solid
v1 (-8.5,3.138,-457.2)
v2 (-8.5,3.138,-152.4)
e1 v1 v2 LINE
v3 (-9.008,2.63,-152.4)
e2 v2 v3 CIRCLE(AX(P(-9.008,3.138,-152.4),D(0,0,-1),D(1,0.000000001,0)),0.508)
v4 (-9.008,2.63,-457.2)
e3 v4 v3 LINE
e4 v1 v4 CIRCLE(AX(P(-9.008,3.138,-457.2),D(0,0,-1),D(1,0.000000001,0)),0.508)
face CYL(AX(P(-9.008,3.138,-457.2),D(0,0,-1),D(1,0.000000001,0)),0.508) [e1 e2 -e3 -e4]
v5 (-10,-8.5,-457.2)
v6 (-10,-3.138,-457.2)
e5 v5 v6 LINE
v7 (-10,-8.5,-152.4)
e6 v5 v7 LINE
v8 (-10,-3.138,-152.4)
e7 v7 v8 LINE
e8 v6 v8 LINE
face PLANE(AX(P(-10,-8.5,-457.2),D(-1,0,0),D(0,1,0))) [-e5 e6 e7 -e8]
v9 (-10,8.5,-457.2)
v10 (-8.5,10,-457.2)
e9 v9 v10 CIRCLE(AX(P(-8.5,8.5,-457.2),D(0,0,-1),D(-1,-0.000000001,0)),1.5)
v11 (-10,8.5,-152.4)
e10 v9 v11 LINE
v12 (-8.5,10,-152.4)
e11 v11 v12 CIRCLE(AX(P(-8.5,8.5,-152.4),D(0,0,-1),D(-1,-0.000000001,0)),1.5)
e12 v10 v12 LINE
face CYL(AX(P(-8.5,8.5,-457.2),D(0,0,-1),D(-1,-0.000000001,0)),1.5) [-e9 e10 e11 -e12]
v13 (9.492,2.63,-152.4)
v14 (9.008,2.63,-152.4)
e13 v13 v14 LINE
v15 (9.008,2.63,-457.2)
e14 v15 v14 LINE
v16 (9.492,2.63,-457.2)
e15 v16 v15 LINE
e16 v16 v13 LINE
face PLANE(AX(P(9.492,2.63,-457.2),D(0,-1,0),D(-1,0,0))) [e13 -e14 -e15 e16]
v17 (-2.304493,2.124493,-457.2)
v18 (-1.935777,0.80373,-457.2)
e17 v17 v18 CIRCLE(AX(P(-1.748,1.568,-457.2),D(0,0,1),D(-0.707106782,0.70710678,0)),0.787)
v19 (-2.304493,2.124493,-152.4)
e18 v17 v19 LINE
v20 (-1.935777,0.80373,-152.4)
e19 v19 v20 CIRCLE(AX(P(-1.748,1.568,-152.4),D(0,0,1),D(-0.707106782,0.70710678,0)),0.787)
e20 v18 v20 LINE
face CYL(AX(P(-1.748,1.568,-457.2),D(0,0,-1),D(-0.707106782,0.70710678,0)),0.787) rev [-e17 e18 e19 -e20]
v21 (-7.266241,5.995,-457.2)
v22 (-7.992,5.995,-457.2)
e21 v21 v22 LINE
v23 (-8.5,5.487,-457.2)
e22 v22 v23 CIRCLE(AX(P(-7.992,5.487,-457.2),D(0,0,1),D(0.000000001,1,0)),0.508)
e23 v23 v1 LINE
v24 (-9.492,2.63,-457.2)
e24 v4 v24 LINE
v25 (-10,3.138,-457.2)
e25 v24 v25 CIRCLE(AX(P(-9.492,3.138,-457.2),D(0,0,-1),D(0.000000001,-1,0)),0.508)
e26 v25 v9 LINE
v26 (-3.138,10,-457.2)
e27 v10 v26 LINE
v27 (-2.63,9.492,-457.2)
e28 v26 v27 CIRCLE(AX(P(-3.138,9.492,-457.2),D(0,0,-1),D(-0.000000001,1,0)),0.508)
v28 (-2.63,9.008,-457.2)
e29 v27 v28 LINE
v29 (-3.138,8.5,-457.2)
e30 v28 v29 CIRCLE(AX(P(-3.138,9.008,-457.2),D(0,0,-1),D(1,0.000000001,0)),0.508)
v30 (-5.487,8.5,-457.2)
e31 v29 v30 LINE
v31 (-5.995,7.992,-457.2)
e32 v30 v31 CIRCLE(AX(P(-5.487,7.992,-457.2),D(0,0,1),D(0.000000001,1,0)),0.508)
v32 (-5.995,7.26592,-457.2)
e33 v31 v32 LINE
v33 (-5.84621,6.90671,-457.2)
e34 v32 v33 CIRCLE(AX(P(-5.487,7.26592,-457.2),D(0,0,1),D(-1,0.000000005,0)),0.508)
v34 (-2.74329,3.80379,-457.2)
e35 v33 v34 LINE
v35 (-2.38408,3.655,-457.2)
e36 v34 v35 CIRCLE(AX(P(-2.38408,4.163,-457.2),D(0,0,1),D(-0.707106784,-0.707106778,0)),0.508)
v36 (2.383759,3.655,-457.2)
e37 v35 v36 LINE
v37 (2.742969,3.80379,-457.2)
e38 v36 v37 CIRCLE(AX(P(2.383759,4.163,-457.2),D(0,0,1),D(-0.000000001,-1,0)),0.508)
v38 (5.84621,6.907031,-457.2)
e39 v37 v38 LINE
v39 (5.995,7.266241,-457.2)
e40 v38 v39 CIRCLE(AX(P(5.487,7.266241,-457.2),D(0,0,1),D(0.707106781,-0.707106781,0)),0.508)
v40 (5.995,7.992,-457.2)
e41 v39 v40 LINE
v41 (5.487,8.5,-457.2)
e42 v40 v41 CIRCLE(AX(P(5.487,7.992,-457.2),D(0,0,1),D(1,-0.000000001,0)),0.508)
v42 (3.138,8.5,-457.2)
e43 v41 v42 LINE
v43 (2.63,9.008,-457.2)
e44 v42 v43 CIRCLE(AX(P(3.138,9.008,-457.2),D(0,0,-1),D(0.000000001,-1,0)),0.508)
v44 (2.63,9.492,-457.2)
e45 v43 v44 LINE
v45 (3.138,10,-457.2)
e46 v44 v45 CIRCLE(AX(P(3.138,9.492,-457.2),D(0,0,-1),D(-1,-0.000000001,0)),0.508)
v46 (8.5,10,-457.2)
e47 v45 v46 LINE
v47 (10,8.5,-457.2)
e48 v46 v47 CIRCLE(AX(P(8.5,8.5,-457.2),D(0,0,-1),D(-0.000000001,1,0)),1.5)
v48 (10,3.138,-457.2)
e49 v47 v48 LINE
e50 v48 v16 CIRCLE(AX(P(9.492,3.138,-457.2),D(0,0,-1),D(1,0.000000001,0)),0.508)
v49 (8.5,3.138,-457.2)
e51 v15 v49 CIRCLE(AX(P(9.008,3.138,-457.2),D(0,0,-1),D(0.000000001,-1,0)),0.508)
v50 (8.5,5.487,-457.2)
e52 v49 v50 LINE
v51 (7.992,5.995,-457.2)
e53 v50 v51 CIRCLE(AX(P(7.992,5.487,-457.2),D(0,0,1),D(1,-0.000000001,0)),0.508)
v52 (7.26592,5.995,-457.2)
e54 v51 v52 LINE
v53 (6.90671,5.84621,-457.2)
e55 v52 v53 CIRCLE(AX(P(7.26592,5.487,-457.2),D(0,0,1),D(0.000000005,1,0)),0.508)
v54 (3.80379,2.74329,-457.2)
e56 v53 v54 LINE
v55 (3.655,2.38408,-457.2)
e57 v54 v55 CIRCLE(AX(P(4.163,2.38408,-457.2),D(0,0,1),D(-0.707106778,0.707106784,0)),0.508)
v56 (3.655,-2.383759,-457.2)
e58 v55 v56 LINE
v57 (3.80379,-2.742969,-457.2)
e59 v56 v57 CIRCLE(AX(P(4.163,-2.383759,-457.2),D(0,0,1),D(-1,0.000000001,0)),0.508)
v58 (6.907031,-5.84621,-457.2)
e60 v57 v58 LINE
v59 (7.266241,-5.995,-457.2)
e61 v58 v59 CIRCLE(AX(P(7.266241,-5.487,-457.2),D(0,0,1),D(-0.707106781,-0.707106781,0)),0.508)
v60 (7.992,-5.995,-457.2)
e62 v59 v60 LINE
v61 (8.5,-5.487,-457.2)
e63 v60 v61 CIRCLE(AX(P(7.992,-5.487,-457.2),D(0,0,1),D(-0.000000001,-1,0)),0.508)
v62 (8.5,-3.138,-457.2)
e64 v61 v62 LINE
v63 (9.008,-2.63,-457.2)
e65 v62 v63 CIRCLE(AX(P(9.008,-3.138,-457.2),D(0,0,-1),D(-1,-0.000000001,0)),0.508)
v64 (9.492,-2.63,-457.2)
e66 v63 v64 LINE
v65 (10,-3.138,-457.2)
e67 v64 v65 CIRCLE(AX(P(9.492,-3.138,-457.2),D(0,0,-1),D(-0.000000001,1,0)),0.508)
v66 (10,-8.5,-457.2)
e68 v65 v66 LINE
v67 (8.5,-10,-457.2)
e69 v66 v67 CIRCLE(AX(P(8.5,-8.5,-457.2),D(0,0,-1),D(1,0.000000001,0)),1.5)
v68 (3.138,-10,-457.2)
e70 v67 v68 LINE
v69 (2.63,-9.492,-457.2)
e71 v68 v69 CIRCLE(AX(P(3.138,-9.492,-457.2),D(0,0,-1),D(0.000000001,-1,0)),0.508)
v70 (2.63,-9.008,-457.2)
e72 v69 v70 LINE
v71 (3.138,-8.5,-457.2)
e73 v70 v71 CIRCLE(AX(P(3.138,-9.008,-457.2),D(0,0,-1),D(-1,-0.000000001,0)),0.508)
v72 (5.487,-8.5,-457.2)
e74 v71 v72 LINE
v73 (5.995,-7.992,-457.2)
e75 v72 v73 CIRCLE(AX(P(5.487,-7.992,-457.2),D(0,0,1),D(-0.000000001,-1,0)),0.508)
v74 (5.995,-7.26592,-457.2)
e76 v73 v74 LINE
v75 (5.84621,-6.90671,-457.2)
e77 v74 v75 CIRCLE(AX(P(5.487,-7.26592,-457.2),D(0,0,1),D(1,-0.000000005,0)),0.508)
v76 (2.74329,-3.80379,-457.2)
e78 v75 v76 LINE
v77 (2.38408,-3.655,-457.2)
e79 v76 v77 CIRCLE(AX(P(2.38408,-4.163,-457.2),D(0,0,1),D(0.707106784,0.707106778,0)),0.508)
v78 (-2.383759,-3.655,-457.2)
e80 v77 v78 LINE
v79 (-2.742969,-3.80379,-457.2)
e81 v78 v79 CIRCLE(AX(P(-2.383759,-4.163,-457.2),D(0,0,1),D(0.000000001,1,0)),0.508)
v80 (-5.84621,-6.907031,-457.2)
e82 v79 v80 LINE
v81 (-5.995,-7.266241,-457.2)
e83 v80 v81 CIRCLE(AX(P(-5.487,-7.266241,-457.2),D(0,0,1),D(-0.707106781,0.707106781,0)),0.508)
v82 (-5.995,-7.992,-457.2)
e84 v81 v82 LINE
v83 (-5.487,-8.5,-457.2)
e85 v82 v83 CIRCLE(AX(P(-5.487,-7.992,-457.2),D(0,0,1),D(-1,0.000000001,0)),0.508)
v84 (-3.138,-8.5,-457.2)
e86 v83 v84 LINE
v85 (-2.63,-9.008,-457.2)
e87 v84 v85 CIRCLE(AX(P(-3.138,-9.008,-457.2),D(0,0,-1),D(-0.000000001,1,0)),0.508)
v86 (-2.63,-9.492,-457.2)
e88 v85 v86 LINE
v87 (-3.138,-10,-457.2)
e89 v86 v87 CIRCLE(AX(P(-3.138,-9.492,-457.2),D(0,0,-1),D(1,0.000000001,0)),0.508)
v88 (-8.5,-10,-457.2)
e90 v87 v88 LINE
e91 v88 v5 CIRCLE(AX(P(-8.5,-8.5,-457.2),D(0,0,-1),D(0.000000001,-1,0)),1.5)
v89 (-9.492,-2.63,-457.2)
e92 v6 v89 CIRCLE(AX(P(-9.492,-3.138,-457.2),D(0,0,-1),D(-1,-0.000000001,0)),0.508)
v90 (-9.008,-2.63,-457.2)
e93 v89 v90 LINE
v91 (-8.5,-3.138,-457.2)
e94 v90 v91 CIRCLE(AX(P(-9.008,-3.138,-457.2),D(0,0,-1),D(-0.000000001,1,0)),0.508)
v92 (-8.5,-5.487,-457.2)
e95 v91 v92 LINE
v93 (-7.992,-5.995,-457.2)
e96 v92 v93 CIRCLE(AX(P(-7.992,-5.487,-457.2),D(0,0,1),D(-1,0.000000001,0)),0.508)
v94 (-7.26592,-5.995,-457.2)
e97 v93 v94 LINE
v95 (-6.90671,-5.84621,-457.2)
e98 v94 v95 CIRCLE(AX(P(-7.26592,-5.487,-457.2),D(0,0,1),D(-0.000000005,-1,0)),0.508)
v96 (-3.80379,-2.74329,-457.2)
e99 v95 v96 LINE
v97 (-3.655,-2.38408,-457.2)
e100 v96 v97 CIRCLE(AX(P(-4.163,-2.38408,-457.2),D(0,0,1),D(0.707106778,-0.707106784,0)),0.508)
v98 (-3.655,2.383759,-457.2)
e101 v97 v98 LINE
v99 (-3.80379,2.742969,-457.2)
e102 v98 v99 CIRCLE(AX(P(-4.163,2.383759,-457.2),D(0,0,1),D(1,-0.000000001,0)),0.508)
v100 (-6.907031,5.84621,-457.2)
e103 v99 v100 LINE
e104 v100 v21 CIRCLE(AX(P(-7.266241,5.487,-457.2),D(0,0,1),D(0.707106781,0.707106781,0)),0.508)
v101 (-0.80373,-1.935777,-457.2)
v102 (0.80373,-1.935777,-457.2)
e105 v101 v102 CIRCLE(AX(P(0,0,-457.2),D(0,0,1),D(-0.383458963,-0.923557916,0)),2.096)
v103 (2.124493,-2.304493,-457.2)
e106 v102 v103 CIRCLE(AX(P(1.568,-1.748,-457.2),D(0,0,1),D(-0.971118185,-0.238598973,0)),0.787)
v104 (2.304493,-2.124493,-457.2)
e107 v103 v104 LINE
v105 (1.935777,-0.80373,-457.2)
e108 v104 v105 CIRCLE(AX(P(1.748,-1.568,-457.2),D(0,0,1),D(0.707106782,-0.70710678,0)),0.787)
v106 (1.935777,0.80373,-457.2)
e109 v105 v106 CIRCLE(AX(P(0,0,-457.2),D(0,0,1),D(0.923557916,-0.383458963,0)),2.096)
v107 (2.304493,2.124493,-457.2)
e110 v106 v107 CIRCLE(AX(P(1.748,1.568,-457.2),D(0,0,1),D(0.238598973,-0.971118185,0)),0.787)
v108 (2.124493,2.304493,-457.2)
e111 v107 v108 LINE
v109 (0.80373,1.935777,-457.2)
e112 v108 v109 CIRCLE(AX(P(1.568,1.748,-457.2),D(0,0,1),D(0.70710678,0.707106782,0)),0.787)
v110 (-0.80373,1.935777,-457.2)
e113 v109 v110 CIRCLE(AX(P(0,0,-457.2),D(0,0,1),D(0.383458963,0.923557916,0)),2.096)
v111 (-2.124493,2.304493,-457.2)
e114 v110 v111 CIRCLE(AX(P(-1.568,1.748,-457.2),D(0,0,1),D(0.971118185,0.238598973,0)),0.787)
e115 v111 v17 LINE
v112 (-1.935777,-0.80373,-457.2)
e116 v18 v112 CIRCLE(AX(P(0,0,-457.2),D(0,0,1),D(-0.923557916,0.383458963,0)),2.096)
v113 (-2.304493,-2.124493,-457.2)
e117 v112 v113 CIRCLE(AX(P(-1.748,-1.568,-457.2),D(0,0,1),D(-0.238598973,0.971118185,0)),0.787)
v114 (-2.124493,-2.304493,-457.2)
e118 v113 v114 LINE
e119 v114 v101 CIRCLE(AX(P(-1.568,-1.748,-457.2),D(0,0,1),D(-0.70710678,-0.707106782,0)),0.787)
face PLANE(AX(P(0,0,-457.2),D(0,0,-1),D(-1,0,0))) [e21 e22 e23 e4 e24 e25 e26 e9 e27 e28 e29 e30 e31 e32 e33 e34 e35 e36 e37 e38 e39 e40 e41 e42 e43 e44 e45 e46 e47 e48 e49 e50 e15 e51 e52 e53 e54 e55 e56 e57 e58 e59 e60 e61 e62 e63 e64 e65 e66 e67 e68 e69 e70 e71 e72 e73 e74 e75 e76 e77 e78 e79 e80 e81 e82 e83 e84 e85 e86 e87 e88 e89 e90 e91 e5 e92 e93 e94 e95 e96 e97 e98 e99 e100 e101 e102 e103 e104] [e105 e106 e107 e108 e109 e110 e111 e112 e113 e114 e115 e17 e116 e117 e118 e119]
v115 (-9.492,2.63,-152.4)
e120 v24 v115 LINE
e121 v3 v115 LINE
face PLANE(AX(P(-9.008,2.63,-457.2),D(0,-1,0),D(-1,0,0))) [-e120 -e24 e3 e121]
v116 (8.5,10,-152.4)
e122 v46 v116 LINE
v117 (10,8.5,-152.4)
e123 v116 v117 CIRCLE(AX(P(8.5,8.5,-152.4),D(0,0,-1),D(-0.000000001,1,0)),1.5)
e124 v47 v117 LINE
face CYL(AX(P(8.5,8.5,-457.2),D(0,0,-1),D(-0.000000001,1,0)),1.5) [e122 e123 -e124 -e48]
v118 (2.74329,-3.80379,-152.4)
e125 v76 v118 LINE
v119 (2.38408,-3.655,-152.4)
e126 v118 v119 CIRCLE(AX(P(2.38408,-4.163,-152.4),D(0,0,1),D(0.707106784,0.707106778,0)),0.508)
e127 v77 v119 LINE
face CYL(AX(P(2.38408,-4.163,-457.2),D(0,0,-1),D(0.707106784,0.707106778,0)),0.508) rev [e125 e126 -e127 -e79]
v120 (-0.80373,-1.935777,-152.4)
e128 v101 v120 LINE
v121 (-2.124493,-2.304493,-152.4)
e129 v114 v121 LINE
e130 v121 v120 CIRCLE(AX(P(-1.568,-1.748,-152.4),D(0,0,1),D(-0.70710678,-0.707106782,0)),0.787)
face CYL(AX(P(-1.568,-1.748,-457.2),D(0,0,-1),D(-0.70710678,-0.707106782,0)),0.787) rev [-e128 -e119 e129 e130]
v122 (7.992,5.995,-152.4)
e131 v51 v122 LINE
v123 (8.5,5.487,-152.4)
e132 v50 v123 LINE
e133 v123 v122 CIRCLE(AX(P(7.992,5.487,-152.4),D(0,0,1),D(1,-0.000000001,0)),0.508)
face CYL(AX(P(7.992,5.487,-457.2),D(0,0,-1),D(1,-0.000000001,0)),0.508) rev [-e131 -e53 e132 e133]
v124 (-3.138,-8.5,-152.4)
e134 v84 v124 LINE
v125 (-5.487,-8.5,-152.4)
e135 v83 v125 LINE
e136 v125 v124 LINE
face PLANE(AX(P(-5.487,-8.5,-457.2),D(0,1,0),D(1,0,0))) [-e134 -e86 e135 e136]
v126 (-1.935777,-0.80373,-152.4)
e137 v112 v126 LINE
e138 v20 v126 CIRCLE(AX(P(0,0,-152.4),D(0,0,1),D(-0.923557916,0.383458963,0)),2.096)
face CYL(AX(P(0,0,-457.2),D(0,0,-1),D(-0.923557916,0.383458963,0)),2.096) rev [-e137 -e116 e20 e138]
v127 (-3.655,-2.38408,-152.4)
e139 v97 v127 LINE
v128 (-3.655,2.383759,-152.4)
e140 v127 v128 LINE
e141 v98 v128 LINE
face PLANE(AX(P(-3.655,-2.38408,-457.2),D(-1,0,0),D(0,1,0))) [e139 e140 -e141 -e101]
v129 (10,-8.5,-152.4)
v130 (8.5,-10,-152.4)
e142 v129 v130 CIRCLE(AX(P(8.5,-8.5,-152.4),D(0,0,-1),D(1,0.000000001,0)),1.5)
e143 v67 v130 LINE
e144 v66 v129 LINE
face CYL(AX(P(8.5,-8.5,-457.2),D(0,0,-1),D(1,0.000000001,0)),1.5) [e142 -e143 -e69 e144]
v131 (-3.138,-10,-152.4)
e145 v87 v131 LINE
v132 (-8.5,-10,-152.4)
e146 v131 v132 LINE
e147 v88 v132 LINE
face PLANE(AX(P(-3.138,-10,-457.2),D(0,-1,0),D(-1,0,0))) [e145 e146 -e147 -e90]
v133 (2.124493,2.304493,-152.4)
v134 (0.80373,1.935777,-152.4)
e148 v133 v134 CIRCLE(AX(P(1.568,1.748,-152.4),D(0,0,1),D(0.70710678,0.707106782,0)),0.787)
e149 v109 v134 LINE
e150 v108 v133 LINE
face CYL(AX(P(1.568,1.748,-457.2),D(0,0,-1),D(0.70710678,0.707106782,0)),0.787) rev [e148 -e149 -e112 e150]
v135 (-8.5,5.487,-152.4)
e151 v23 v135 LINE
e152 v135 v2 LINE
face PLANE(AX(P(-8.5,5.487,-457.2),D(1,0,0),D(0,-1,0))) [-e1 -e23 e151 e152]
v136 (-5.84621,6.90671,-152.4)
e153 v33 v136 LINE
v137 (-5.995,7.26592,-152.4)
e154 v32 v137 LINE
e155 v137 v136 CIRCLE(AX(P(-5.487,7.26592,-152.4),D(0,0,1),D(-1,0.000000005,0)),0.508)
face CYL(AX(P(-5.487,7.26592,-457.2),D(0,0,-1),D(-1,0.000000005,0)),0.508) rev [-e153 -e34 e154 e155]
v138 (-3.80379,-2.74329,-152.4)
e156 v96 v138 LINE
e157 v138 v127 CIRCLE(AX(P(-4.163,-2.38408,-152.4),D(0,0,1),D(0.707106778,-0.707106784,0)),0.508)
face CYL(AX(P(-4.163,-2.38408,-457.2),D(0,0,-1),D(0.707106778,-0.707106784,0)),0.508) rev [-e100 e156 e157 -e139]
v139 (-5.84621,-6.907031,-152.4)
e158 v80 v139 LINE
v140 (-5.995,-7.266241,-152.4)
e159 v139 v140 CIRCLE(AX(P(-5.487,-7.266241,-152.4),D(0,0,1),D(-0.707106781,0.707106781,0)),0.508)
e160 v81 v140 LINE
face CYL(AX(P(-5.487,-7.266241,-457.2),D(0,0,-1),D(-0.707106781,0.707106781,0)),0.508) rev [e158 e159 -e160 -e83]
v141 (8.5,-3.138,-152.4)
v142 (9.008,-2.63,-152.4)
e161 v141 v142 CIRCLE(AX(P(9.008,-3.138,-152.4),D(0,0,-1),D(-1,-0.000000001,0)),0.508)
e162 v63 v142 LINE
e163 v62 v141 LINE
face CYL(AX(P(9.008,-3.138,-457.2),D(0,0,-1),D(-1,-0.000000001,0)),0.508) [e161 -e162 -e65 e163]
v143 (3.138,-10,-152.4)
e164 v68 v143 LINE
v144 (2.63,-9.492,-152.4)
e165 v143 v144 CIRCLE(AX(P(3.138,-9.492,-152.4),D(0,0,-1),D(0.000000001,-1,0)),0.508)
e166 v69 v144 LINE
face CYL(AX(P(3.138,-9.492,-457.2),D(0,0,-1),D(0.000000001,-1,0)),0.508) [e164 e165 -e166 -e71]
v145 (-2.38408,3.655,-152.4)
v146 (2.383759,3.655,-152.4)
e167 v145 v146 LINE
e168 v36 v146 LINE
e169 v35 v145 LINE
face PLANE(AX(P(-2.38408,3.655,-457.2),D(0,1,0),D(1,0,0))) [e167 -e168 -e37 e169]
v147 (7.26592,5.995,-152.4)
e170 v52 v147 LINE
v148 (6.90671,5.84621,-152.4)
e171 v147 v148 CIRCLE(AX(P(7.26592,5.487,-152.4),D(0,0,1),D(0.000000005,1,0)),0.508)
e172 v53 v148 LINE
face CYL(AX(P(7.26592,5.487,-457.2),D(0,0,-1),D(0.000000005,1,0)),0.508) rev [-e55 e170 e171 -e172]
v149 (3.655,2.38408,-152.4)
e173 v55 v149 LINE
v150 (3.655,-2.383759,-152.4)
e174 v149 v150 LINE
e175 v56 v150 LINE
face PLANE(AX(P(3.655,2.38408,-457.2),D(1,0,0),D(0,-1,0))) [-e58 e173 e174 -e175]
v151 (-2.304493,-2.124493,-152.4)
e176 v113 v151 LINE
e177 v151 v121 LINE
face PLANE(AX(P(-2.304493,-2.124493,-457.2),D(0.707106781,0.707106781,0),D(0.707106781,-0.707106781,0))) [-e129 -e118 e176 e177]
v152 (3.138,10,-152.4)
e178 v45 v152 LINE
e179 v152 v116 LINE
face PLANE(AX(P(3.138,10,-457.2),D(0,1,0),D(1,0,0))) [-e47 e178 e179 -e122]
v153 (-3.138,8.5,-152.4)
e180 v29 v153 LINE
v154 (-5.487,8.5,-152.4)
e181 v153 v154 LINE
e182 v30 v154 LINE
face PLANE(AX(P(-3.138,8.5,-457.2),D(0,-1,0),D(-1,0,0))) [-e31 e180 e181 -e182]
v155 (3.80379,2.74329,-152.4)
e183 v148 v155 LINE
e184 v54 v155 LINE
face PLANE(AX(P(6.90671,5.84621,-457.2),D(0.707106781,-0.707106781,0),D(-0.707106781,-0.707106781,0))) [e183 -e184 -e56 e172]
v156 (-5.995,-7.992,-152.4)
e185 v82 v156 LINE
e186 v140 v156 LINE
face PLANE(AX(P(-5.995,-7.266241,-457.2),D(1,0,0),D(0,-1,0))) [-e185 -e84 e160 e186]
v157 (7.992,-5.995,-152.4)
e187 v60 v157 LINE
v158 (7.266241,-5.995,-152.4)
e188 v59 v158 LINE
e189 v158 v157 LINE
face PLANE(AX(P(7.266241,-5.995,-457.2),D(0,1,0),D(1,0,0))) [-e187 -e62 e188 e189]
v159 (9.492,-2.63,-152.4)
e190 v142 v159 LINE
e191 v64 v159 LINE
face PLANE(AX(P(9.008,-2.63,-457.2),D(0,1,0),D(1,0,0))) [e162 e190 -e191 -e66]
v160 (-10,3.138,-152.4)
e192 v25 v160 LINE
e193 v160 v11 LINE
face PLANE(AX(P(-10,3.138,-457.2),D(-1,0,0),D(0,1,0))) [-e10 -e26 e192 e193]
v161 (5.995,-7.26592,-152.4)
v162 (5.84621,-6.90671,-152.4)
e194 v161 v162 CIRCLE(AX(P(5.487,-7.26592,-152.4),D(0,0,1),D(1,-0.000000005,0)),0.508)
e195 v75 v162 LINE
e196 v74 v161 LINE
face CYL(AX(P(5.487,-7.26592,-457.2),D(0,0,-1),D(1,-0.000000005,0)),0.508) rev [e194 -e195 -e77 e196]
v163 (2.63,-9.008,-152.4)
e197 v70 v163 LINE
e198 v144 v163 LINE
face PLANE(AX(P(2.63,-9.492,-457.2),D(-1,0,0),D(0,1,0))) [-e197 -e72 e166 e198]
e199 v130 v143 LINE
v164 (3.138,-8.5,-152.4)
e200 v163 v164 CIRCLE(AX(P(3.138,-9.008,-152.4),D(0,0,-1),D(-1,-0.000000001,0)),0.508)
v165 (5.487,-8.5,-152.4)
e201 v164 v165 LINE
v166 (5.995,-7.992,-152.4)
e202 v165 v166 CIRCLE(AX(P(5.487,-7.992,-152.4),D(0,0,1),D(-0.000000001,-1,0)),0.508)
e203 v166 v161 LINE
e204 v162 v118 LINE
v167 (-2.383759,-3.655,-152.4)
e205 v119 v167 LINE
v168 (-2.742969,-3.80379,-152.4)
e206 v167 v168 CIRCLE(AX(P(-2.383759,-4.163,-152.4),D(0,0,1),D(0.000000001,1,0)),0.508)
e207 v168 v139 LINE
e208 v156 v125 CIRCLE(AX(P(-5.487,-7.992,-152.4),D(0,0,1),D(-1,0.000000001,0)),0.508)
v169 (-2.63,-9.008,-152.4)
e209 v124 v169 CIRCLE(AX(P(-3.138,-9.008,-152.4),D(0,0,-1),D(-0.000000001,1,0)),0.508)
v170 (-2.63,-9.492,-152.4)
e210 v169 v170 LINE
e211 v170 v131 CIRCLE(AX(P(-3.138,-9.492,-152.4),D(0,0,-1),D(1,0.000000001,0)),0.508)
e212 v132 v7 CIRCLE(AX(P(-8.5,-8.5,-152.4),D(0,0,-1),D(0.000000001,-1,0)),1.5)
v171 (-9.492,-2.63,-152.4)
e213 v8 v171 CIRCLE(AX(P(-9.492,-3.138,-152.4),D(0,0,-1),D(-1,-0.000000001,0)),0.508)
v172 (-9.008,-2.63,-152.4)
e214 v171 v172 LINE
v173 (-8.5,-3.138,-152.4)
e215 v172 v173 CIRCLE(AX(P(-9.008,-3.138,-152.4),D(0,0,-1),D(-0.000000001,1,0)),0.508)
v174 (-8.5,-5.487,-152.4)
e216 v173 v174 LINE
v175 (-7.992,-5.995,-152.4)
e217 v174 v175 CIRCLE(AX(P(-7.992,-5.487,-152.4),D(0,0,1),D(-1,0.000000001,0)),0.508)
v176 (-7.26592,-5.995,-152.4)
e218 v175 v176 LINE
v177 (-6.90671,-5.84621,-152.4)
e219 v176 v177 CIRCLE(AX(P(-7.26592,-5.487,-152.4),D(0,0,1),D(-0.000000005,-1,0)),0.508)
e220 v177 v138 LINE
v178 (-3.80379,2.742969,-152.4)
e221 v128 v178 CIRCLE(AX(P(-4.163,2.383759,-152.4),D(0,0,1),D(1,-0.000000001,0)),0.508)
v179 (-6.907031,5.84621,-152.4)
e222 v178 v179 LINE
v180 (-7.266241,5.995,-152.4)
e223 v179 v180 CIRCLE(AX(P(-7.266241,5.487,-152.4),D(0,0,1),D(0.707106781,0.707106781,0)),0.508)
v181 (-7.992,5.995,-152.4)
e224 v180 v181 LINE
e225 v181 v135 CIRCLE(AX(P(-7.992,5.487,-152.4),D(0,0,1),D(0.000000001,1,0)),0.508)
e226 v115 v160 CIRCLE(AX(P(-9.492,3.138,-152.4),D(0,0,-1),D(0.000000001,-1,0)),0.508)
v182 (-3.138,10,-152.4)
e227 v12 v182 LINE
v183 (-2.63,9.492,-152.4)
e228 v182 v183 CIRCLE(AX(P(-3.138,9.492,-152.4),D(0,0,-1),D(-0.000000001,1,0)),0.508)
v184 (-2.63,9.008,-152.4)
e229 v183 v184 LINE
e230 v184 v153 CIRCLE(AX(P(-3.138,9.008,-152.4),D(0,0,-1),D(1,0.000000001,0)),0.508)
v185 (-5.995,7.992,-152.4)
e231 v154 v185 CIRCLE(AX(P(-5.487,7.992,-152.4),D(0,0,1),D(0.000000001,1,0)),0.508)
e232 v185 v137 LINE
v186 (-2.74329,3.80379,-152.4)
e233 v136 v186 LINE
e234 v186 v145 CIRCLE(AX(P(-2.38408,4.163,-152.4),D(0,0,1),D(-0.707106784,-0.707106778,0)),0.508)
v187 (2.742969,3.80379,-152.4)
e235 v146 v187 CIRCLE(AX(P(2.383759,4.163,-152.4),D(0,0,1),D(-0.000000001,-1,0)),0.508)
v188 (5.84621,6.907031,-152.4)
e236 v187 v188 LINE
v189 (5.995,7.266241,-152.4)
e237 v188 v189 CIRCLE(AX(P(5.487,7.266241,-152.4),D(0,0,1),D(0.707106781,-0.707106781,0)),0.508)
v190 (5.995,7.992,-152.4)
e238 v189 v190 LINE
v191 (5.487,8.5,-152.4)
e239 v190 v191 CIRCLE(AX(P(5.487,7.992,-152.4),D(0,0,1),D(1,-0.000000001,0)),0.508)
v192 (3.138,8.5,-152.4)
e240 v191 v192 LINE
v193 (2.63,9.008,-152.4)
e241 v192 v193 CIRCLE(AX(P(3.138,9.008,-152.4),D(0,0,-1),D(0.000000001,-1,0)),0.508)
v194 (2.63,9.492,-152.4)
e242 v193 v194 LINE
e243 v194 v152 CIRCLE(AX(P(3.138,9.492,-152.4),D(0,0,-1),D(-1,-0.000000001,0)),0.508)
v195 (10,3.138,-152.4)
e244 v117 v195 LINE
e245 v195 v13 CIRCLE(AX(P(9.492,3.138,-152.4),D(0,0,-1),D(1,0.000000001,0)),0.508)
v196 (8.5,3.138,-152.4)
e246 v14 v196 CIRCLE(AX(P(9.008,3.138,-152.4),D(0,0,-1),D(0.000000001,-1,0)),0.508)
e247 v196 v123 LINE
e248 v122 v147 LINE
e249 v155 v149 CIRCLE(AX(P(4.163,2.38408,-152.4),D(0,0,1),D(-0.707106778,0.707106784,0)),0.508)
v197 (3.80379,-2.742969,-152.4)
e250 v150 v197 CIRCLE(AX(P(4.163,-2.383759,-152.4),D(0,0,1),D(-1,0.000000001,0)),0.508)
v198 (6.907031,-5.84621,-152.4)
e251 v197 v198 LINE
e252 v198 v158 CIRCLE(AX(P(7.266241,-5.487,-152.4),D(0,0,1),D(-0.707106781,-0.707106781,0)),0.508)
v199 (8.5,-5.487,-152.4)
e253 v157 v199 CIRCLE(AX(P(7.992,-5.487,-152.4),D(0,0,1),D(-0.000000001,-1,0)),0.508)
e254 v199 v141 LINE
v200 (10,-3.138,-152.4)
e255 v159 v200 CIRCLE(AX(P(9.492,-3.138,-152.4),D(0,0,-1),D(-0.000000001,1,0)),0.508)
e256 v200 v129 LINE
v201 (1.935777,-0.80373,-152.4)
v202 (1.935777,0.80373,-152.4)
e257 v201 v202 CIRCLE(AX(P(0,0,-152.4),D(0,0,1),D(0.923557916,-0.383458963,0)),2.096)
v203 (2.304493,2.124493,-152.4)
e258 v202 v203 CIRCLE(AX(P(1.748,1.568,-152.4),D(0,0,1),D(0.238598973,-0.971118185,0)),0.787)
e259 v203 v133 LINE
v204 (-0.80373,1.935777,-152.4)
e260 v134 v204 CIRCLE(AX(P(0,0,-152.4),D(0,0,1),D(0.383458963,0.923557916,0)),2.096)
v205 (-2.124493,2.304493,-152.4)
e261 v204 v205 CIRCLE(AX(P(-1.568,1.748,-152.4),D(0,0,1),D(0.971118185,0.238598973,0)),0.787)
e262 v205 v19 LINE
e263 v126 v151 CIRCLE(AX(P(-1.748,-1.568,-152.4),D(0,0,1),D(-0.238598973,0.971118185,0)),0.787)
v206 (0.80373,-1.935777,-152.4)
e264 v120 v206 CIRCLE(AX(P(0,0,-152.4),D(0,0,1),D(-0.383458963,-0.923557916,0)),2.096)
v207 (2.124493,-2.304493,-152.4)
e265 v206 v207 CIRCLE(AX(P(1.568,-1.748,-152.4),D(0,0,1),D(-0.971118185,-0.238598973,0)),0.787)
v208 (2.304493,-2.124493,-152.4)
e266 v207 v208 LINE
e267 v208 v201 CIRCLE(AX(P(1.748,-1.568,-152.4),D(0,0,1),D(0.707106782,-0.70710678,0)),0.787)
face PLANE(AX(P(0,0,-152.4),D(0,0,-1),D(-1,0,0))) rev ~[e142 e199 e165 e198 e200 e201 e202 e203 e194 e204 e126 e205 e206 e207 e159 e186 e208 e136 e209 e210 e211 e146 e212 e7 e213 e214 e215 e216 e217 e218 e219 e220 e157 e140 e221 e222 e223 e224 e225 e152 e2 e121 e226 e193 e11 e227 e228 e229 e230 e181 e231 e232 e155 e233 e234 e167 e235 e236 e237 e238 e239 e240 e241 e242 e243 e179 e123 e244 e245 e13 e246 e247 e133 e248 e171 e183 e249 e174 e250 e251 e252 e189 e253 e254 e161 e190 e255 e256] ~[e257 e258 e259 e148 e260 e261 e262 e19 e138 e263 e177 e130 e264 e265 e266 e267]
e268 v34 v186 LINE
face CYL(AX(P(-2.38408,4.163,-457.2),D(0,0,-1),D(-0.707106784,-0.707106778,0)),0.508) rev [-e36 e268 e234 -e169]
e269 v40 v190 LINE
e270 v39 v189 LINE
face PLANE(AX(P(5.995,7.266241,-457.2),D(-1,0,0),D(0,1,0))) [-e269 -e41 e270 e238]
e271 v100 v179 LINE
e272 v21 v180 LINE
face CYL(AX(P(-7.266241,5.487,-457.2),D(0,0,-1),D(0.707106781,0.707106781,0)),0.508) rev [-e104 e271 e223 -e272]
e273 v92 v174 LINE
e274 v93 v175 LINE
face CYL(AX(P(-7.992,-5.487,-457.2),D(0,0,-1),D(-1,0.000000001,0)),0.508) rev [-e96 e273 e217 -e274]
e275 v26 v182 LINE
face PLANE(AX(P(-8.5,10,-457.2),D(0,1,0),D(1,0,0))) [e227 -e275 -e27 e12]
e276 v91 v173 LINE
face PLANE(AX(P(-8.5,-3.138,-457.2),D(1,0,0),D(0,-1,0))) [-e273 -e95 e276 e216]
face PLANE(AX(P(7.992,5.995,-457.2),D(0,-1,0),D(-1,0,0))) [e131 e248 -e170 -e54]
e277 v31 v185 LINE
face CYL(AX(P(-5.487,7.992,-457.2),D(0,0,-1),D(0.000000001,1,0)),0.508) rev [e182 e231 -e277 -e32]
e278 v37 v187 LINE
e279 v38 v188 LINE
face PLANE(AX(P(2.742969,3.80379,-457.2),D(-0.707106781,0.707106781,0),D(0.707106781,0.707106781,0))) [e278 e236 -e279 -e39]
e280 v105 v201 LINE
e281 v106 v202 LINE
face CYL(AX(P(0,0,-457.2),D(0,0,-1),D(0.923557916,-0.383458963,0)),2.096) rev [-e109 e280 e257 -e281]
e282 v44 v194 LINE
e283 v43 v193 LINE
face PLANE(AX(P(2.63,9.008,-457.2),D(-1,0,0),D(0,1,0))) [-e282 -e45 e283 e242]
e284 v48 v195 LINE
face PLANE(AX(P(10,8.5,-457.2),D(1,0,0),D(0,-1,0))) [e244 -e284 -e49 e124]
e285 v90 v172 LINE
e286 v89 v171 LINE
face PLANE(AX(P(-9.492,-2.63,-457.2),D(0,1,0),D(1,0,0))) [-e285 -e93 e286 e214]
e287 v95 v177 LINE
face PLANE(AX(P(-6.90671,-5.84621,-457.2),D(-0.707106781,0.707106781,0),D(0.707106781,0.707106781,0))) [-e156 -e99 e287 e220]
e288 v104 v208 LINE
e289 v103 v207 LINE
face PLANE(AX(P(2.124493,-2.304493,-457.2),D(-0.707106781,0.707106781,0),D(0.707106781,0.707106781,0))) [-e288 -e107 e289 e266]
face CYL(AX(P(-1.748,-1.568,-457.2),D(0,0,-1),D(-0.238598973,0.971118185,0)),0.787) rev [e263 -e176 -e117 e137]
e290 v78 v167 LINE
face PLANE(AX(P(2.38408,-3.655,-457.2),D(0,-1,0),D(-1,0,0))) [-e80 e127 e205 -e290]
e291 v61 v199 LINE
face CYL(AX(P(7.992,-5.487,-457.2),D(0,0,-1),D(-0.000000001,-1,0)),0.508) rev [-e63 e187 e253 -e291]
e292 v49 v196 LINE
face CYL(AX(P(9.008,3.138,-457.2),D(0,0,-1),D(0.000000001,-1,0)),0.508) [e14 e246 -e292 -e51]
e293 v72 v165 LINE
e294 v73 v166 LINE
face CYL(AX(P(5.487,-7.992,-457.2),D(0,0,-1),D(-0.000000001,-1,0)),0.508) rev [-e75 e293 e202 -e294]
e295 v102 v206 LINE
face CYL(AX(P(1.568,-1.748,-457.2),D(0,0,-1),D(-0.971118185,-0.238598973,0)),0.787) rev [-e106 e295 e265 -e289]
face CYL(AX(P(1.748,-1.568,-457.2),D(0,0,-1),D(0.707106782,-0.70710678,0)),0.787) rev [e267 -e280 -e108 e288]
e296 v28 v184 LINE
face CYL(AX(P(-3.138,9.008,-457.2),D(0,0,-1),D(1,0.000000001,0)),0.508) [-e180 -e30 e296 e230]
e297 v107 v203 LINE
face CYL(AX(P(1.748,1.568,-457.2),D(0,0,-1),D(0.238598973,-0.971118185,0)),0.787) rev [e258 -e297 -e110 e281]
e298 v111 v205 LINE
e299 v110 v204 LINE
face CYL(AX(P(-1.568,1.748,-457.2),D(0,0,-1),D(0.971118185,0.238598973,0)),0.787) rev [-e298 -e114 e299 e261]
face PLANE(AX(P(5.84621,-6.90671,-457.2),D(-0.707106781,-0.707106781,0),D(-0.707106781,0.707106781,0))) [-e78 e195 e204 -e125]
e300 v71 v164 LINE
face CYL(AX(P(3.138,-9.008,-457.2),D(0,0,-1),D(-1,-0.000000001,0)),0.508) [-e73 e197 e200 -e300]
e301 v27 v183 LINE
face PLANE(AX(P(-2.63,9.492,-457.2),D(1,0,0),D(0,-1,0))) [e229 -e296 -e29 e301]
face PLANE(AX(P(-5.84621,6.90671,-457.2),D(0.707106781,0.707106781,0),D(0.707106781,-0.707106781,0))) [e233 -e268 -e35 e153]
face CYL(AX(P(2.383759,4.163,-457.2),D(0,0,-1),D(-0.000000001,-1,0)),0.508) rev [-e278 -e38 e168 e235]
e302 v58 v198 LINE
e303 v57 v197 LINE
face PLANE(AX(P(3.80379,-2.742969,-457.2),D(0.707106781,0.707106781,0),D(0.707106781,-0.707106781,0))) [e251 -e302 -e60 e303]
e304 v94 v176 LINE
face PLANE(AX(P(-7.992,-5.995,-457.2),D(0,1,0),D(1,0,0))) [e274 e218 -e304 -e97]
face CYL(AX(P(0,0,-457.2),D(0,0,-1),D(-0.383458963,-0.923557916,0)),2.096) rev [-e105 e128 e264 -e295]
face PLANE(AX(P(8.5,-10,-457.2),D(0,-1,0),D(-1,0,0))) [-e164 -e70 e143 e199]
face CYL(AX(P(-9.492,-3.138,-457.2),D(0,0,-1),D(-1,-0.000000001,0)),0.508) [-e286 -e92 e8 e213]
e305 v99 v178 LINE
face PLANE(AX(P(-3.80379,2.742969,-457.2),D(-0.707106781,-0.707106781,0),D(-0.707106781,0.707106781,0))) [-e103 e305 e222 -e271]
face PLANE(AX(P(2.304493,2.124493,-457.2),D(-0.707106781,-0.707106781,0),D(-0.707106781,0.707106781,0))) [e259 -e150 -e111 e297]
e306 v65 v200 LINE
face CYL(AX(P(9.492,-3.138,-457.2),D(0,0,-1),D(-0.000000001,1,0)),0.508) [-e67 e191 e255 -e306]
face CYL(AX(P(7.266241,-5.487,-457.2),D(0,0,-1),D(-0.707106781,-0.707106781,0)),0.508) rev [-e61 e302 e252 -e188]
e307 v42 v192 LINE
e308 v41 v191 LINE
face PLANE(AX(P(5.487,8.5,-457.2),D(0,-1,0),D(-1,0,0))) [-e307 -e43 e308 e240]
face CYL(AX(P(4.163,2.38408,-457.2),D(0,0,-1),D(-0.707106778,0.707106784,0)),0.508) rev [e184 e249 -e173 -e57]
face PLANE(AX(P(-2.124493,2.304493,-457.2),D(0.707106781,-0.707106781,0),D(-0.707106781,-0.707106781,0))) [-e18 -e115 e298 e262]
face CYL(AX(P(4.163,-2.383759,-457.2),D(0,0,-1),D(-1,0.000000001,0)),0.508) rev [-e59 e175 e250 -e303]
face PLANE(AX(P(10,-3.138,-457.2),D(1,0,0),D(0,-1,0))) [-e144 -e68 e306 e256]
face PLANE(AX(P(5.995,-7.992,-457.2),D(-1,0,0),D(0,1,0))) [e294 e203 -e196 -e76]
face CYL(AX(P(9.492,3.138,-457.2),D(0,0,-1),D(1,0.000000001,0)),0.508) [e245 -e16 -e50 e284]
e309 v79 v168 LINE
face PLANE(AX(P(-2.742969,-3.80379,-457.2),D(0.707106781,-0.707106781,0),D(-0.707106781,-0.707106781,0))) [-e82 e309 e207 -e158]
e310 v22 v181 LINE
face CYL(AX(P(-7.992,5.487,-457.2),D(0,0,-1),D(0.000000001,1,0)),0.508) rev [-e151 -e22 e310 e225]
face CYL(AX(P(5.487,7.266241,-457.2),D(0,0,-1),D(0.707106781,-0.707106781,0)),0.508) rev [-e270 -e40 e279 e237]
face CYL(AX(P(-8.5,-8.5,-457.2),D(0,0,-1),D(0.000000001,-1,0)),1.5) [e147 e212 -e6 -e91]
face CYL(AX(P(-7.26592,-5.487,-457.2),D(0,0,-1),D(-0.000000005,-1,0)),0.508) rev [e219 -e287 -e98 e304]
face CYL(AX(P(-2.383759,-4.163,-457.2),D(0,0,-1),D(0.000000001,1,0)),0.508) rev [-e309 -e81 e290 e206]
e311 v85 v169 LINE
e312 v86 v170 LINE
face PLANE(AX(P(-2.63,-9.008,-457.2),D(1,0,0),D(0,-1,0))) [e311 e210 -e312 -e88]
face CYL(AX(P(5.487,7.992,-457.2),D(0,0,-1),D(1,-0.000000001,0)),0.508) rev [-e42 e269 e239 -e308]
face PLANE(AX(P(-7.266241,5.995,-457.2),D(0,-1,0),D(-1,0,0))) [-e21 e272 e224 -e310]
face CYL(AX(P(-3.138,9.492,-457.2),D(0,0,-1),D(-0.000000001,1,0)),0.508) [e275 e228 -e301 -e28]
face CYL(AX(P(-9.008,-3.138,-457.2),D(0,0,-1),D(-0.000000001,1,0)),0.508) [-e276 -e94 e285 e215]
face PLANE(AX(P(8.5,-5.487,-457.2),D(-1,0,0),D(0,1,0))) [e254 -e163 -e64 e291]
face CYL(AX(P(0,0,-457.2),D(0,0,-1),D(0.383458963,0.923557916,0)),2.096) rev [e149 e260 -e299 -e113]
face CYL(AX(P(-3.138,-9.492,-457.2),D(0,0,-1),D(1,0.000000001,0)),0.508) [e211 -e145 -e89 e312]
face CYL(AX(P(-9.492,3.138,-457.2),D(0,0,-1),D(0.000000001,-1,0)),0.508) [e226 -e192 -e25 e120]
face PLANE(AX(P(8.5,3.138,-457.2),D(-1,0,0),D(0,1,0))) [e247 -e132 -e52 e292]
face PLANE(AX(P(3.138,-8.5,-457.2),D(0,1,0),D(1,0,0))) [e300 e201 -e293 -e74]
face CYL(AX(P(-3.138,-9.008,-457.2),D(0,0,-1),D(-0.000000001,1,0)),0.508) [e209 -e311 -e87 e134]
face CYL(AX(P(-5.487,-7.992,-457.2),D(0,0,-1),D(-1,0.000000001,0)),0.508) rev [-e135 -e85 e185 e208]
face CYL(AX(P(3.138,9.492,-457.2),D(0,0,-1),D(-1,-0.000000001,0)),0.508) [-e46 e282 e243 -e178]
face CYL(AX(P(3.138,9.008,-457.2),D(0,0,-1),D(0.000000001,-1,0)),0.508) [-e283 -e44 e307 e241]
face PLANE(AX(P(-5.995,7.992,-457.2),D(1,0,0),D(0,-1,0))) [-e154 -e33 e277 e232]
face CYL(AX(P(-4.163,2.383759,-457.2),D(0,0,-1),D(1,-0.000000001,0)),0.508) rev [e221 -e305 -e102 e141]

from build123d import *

# Parameters (mm, degrees)
BOSS_EXTRUDE1_DEPTH = 304.8


with BuildPart() as part:
    # Sketch1 → Boss-Extrude1 (new body)
    with BuildSketch(Plane(origin=(0, 0, -457.2), x_dir=(-1, 0, 0), z_dir=(0, 0, -1))):
        with BuildLine():
            Line((10, -8.5), (10, -3.138))
            ThreePointArc((10, -3.138), (9.851210245, -2.778789755), (9.492, -2.63))
            Line((9.492, -2.63), (9.008, -2.63))
            ThreePointArc((9.008, -2.63), (8.648789755, -2.778789755), (8.5, -3.138))
            Line((8.5, -3.138), (8.5, -5.487))
            ThreePointArc((8.5, -5.487), (8.351210245, -5.846210245), (7.992, -5.995))
            Line((7.992, -5.995), (7.26592049, -5.995))
            ThreePointArc((7.26592049, -5.995), (7.071517306, -5.956330803), (6.906710245, -5.846210245))
            Line((6.906710245, -5.846210245), (3.803789755, -2.743289755))
            ThreePointArc((3.803789755, -2.743289755), (3.693669197, -2.578482694), (3.655, -2.38407951))
            Line((3.655, -2.38407951), (3.655, 2.383759167))
            ThreePointArc((3.655, 2.383759167), (3.693669197, 2.57816235), (3.803789755, 2.742969412))
            Line((3.803789755, 2.742969412), (6.907030588, 5.846210245))
            ThreePointArc((6.907030588, 5.846210245), (7.07183765, 5.956330803), (7.266240833, 5.995))
            Line((7.266240833, 5.995), (7.992, 5.995))
            ThreePointArc((7.992, 5.995), (8.351210245, 5.846210245), (8.5, 5.487))
            Line((8.5, 5.487), (8.5, 3.138))
            ThreePointArc((8.5, 3.138), (8.648789755, 2.778789755), (9.008, 2.63))
            Line((9.008, 2.63), (9.492, 2.63))
            ThreePointArc((9.492, 2.63), (9.851210245, 2.778789755), (10, 3.138))
            Line((10, 3.138), (10, 8.5))
            ThreePointArc((10, 8.5), (9.560660172, 9.560660172), (8.5, 10))
            Line((8.5, 10), (3.138, 10))
            ThreePointArc((3.138, 10), (2.778789755, 9.851210245), (2.63, 9.492))
            Line((2.63, 9.492), (2.63, 9.008))
            ThreePointArc((2.63, 9.008), (2.778789755, 8.648789755), (3.138, 8.5))
            Line((3.138, 8.5), (5.487, 8.5))
            ThreePointArc((5.487, 8.5), (5.846210245, 8.351210245), (5.995, 7.992))
            Line((5.995, 7.992), (5.995, 7.26592049))
            ThreePointArc((5.995, 7.26592049), (5.956330803, 7.071517306), (5.846210245, 6.906710245))
            Line((5.846210245, 6.906710245), (2.743289755, 3.803789755))
            ThreePointArc((2.743289755, 3.803789755), (2.578482694, 3.693669197), (2.38407951, 3.655))
            Line((2.38407951, 3.655), (-2.383759167, 3.655))
            ThreePointArc((-2.383759167, 3.655), (-2.57816235, 3.693669197), (-2.742969412, 3.803789755))
            Line((-2.742969412, 3.803789755), (-5.846210245, 6.907030588))
            ThreePointArc((-5.846210245, 6.907030588), (-5.956330803, 7.07183765), (-5.995, 7.266240833))
            Line((-5.995, 7.266240833), (-5.995, 7.992))
            ThreePointArc((-5.995, 7.992), (-5.846210245, 8.351210245), (-5.487, 8.5))
            Line((-5.487, 8.5), (-3.138, 8.5))
            ThreePointArc((-3.138, 8.5), (-2.778789755, 8.648789755), (-2.63, 9.008))
            Line((-2.63, 9.008), (-2.63, 9.492))
            ThreePointArc((-2.63, 9.492), (-2.778789755, 9.851210245), (-3.138, 10))
            Line((-3.138, 10), (-8.5, 10))
            ThreePointArc((-8.5, 10), (-9.560660172, 9.560660172), (-10, 8.5))
            Line((-10, 8.5), (-10, 3.138))
            ThreePointArc((-10, 3.138), (-9.851210245, 2.778789755), (-9.492, 2.63))
            Line((-9.492, 2.63), (-9.008, 2.63))
            ThreePointArc((-9.008, 2.63), (-8.648789755, 2.778789755), (-8.5, 3.138))
            Line((-8.5, 3.138), (-8.5, 5.487))
            ThreePointArc((-8.5, 5.487), (-8.351210245, 5.846210245), (-7.992, 5.995))
            Line((-7.992, 5.995), (-7.26592049, 5.995))
            ThreePointArc((-7.26592049, 5.995), (-7.071517306, 5.956330803), (-6.906710245, 5.846210245))
            Line((-6.906710245, 5.846210245), (-3.803789755, 2.743289755))
            ThreePointArc((-3.803789755, 2.743289755), (-3.693669197, 2.578482694), (-3.655, 2.38407951))
            Line((-3.655, 2.38407951), (-3.655, -2.383759167))
            ThreePointArc((-3.655, -2.383759167), (-3.693669197, -2.57816235), (-3.803789755, -2.742969412))
            Line((-3.803789755, -2.742969412), (-6.907030588, -5.846210245))
            ThreePointArc((-6.907030588, -5.846210245), (-7.07183765, -5.956330803), (-7.266240833, -5.995))
            Line((-7.266240833, -5.995), (-7.992, -5.995))
            ThreePointArc((-7.992, -5.995), (-8.351210245, -5.846210245), (-8.5, -5.487))
            Line((-8.5, -5.487), (-8.5, -3.138))
            ThreePointArc((-8.5, -3.138), (-8.648789755, -2.778789755), (-9.008, -2.63))
            Line((-9.008, -2.63), (-9.492, -2.63))
            ThreePointArc((-9.492, -2.63), (-9.851210245, -2.778789755), (-10, -3.138))
            Line((-10, -3.138), (-10, -8.5))
            ThreePointArc((-10, -8.5), (-9.560660172, -9.560660172), (-8.5, -10))
            Line((-8.5, -10), (-3.138, -10))
            ThreePointArc((-3.138, -10), (-2.778789755, -9.851210245), (-2.63, -9.492))
            Line((-2.63, -9.492), (-2.63, -9.008))
            ThreePointArc((-2.63, -9.008), (-2.778789755, -8.648789755), (-3.138, -8.5))
            Line((-3.138, -8.5), (-5.487, -8.5))
            ThreePointArc((-5.487, -8.5), (-5.846210245, -8.351210245), (-5.995, -7.992))
            Line((-5.995, -7.992), (-5.995, -7.26592049))
            ThreePointArc((-5.995, -7.26592049), (-5.956330803, -7.071517306), (-5.846210245, -6.906710245))
            Line((-5.846210245, -6.906710245), (-2.743289755, -3.803789755))
            ThreePointArc((-2.743289755, -3.803789755), (-2.578482694, -3.693669197), (-2.38407951, -3.655))
            Line((-2.38407951, -3.655), (2.383759167, -3.655))
            ThreePointArc((2.383759167, -3.655), (2.57816235, -3.693669197), (2.742969412, -3.803789755))
            Line((2.742969412, -3.803789755), (5.846210245, -6.907030588))
            ThreePointArc((5.846210245, -6.907030588), (5.956330803, -7.07183765), (5.995, -7.266240833))
            Line((5.995, -7.266240833), (5.995, -7.992))
            ThreePointArc((5.995, -7.992), (5.846210245, -8.351210245), (5.487, -8.5))
            Line((5.487, -8.5), (3.138, -8.5))
            ThreePointArc((3.138, -8.5), (2.778789755, -8.648789755), (2.63, -9.008))
            Line((2.63, -9.008), (2.63, -9.492))
            ThreePointArc((2.63, -9.492), (2.778789755, -9.851210245), (3.138, -10))
            Line((3.138, -10), (8.5, -10))
            ThreePointArc((8.5, -10), (9.560660172, -9.560660172), (10, -8.5))
        make_face()
        with BuildLine():
            Line((2.304493037, -2.124493037), (2.124493037, -2.304493037))
            ThreePointArc((2.124493037, -2.304493037), (1.35638567, -2.506016078), (0.803729988, -1.935777391))
            ThreePointArc((0.803729988, -1.935777391), (0, -2.096), (-0.803729988, -1.935777391))
            ThreePointArc((-0.803729988, -1.935777391), (-1.35638567, -2.506016078), (-2.124493037, -2.304493037))
            Line((-2.124493037, -2.304493037), (-2.304493037, -2.124493037))
            ThreePointArc((-2.304493037, -2.124493037), (-2.506016078, -1.35638567), (-1.935777391, -0.803729988))
            ThreePointArc((-1.935777391, -0.803729988), (-2.096, 0), (-1.935777391, 0.803729988))
            ThreePointArc((-1.935777391, 0.803729988), (-2.506016078, 1.35638567), (-2.304493037, 2.124493037))
            Line((-2.304493037, 2.124493037), (-2.124493037, 2.304493037))
            ThreePointArc((-2.124493037, 2.304493037), (-1.35638567, 2.506016078), (-0.803729988, 1.935777391))
            ThreePointArc((-0.803729988, 1.935777391), (0, 2.096), (0.803729988, 1.935777391))
            ThreePointArc((0.803729988, 1.935777391), (1.35638567, 2.506016078), (2.124493037, 2.304493037))
            Line((2.124493037, 2.304493037), (2.304493037, 2.124493037))
            ThreePointArc((2.304493037, 2.124493037), (2.506016078, 1.35638567), (1.935777391, 0.803729988))
            ThreePointArc((1.935777391, 0.803729988), (2.096, 0), (1.935777391, -0.803729988))
            ThreePointArc((1.935777391, -0.803729988), (2.506016078, -1.35638567), (2.304493037, -2.124493037))
        make_face(mode=Mode.SUBTRACT)
    extrude(amount=-BOSS_EXTRUDE1_DEPTH)


solid = part.part
